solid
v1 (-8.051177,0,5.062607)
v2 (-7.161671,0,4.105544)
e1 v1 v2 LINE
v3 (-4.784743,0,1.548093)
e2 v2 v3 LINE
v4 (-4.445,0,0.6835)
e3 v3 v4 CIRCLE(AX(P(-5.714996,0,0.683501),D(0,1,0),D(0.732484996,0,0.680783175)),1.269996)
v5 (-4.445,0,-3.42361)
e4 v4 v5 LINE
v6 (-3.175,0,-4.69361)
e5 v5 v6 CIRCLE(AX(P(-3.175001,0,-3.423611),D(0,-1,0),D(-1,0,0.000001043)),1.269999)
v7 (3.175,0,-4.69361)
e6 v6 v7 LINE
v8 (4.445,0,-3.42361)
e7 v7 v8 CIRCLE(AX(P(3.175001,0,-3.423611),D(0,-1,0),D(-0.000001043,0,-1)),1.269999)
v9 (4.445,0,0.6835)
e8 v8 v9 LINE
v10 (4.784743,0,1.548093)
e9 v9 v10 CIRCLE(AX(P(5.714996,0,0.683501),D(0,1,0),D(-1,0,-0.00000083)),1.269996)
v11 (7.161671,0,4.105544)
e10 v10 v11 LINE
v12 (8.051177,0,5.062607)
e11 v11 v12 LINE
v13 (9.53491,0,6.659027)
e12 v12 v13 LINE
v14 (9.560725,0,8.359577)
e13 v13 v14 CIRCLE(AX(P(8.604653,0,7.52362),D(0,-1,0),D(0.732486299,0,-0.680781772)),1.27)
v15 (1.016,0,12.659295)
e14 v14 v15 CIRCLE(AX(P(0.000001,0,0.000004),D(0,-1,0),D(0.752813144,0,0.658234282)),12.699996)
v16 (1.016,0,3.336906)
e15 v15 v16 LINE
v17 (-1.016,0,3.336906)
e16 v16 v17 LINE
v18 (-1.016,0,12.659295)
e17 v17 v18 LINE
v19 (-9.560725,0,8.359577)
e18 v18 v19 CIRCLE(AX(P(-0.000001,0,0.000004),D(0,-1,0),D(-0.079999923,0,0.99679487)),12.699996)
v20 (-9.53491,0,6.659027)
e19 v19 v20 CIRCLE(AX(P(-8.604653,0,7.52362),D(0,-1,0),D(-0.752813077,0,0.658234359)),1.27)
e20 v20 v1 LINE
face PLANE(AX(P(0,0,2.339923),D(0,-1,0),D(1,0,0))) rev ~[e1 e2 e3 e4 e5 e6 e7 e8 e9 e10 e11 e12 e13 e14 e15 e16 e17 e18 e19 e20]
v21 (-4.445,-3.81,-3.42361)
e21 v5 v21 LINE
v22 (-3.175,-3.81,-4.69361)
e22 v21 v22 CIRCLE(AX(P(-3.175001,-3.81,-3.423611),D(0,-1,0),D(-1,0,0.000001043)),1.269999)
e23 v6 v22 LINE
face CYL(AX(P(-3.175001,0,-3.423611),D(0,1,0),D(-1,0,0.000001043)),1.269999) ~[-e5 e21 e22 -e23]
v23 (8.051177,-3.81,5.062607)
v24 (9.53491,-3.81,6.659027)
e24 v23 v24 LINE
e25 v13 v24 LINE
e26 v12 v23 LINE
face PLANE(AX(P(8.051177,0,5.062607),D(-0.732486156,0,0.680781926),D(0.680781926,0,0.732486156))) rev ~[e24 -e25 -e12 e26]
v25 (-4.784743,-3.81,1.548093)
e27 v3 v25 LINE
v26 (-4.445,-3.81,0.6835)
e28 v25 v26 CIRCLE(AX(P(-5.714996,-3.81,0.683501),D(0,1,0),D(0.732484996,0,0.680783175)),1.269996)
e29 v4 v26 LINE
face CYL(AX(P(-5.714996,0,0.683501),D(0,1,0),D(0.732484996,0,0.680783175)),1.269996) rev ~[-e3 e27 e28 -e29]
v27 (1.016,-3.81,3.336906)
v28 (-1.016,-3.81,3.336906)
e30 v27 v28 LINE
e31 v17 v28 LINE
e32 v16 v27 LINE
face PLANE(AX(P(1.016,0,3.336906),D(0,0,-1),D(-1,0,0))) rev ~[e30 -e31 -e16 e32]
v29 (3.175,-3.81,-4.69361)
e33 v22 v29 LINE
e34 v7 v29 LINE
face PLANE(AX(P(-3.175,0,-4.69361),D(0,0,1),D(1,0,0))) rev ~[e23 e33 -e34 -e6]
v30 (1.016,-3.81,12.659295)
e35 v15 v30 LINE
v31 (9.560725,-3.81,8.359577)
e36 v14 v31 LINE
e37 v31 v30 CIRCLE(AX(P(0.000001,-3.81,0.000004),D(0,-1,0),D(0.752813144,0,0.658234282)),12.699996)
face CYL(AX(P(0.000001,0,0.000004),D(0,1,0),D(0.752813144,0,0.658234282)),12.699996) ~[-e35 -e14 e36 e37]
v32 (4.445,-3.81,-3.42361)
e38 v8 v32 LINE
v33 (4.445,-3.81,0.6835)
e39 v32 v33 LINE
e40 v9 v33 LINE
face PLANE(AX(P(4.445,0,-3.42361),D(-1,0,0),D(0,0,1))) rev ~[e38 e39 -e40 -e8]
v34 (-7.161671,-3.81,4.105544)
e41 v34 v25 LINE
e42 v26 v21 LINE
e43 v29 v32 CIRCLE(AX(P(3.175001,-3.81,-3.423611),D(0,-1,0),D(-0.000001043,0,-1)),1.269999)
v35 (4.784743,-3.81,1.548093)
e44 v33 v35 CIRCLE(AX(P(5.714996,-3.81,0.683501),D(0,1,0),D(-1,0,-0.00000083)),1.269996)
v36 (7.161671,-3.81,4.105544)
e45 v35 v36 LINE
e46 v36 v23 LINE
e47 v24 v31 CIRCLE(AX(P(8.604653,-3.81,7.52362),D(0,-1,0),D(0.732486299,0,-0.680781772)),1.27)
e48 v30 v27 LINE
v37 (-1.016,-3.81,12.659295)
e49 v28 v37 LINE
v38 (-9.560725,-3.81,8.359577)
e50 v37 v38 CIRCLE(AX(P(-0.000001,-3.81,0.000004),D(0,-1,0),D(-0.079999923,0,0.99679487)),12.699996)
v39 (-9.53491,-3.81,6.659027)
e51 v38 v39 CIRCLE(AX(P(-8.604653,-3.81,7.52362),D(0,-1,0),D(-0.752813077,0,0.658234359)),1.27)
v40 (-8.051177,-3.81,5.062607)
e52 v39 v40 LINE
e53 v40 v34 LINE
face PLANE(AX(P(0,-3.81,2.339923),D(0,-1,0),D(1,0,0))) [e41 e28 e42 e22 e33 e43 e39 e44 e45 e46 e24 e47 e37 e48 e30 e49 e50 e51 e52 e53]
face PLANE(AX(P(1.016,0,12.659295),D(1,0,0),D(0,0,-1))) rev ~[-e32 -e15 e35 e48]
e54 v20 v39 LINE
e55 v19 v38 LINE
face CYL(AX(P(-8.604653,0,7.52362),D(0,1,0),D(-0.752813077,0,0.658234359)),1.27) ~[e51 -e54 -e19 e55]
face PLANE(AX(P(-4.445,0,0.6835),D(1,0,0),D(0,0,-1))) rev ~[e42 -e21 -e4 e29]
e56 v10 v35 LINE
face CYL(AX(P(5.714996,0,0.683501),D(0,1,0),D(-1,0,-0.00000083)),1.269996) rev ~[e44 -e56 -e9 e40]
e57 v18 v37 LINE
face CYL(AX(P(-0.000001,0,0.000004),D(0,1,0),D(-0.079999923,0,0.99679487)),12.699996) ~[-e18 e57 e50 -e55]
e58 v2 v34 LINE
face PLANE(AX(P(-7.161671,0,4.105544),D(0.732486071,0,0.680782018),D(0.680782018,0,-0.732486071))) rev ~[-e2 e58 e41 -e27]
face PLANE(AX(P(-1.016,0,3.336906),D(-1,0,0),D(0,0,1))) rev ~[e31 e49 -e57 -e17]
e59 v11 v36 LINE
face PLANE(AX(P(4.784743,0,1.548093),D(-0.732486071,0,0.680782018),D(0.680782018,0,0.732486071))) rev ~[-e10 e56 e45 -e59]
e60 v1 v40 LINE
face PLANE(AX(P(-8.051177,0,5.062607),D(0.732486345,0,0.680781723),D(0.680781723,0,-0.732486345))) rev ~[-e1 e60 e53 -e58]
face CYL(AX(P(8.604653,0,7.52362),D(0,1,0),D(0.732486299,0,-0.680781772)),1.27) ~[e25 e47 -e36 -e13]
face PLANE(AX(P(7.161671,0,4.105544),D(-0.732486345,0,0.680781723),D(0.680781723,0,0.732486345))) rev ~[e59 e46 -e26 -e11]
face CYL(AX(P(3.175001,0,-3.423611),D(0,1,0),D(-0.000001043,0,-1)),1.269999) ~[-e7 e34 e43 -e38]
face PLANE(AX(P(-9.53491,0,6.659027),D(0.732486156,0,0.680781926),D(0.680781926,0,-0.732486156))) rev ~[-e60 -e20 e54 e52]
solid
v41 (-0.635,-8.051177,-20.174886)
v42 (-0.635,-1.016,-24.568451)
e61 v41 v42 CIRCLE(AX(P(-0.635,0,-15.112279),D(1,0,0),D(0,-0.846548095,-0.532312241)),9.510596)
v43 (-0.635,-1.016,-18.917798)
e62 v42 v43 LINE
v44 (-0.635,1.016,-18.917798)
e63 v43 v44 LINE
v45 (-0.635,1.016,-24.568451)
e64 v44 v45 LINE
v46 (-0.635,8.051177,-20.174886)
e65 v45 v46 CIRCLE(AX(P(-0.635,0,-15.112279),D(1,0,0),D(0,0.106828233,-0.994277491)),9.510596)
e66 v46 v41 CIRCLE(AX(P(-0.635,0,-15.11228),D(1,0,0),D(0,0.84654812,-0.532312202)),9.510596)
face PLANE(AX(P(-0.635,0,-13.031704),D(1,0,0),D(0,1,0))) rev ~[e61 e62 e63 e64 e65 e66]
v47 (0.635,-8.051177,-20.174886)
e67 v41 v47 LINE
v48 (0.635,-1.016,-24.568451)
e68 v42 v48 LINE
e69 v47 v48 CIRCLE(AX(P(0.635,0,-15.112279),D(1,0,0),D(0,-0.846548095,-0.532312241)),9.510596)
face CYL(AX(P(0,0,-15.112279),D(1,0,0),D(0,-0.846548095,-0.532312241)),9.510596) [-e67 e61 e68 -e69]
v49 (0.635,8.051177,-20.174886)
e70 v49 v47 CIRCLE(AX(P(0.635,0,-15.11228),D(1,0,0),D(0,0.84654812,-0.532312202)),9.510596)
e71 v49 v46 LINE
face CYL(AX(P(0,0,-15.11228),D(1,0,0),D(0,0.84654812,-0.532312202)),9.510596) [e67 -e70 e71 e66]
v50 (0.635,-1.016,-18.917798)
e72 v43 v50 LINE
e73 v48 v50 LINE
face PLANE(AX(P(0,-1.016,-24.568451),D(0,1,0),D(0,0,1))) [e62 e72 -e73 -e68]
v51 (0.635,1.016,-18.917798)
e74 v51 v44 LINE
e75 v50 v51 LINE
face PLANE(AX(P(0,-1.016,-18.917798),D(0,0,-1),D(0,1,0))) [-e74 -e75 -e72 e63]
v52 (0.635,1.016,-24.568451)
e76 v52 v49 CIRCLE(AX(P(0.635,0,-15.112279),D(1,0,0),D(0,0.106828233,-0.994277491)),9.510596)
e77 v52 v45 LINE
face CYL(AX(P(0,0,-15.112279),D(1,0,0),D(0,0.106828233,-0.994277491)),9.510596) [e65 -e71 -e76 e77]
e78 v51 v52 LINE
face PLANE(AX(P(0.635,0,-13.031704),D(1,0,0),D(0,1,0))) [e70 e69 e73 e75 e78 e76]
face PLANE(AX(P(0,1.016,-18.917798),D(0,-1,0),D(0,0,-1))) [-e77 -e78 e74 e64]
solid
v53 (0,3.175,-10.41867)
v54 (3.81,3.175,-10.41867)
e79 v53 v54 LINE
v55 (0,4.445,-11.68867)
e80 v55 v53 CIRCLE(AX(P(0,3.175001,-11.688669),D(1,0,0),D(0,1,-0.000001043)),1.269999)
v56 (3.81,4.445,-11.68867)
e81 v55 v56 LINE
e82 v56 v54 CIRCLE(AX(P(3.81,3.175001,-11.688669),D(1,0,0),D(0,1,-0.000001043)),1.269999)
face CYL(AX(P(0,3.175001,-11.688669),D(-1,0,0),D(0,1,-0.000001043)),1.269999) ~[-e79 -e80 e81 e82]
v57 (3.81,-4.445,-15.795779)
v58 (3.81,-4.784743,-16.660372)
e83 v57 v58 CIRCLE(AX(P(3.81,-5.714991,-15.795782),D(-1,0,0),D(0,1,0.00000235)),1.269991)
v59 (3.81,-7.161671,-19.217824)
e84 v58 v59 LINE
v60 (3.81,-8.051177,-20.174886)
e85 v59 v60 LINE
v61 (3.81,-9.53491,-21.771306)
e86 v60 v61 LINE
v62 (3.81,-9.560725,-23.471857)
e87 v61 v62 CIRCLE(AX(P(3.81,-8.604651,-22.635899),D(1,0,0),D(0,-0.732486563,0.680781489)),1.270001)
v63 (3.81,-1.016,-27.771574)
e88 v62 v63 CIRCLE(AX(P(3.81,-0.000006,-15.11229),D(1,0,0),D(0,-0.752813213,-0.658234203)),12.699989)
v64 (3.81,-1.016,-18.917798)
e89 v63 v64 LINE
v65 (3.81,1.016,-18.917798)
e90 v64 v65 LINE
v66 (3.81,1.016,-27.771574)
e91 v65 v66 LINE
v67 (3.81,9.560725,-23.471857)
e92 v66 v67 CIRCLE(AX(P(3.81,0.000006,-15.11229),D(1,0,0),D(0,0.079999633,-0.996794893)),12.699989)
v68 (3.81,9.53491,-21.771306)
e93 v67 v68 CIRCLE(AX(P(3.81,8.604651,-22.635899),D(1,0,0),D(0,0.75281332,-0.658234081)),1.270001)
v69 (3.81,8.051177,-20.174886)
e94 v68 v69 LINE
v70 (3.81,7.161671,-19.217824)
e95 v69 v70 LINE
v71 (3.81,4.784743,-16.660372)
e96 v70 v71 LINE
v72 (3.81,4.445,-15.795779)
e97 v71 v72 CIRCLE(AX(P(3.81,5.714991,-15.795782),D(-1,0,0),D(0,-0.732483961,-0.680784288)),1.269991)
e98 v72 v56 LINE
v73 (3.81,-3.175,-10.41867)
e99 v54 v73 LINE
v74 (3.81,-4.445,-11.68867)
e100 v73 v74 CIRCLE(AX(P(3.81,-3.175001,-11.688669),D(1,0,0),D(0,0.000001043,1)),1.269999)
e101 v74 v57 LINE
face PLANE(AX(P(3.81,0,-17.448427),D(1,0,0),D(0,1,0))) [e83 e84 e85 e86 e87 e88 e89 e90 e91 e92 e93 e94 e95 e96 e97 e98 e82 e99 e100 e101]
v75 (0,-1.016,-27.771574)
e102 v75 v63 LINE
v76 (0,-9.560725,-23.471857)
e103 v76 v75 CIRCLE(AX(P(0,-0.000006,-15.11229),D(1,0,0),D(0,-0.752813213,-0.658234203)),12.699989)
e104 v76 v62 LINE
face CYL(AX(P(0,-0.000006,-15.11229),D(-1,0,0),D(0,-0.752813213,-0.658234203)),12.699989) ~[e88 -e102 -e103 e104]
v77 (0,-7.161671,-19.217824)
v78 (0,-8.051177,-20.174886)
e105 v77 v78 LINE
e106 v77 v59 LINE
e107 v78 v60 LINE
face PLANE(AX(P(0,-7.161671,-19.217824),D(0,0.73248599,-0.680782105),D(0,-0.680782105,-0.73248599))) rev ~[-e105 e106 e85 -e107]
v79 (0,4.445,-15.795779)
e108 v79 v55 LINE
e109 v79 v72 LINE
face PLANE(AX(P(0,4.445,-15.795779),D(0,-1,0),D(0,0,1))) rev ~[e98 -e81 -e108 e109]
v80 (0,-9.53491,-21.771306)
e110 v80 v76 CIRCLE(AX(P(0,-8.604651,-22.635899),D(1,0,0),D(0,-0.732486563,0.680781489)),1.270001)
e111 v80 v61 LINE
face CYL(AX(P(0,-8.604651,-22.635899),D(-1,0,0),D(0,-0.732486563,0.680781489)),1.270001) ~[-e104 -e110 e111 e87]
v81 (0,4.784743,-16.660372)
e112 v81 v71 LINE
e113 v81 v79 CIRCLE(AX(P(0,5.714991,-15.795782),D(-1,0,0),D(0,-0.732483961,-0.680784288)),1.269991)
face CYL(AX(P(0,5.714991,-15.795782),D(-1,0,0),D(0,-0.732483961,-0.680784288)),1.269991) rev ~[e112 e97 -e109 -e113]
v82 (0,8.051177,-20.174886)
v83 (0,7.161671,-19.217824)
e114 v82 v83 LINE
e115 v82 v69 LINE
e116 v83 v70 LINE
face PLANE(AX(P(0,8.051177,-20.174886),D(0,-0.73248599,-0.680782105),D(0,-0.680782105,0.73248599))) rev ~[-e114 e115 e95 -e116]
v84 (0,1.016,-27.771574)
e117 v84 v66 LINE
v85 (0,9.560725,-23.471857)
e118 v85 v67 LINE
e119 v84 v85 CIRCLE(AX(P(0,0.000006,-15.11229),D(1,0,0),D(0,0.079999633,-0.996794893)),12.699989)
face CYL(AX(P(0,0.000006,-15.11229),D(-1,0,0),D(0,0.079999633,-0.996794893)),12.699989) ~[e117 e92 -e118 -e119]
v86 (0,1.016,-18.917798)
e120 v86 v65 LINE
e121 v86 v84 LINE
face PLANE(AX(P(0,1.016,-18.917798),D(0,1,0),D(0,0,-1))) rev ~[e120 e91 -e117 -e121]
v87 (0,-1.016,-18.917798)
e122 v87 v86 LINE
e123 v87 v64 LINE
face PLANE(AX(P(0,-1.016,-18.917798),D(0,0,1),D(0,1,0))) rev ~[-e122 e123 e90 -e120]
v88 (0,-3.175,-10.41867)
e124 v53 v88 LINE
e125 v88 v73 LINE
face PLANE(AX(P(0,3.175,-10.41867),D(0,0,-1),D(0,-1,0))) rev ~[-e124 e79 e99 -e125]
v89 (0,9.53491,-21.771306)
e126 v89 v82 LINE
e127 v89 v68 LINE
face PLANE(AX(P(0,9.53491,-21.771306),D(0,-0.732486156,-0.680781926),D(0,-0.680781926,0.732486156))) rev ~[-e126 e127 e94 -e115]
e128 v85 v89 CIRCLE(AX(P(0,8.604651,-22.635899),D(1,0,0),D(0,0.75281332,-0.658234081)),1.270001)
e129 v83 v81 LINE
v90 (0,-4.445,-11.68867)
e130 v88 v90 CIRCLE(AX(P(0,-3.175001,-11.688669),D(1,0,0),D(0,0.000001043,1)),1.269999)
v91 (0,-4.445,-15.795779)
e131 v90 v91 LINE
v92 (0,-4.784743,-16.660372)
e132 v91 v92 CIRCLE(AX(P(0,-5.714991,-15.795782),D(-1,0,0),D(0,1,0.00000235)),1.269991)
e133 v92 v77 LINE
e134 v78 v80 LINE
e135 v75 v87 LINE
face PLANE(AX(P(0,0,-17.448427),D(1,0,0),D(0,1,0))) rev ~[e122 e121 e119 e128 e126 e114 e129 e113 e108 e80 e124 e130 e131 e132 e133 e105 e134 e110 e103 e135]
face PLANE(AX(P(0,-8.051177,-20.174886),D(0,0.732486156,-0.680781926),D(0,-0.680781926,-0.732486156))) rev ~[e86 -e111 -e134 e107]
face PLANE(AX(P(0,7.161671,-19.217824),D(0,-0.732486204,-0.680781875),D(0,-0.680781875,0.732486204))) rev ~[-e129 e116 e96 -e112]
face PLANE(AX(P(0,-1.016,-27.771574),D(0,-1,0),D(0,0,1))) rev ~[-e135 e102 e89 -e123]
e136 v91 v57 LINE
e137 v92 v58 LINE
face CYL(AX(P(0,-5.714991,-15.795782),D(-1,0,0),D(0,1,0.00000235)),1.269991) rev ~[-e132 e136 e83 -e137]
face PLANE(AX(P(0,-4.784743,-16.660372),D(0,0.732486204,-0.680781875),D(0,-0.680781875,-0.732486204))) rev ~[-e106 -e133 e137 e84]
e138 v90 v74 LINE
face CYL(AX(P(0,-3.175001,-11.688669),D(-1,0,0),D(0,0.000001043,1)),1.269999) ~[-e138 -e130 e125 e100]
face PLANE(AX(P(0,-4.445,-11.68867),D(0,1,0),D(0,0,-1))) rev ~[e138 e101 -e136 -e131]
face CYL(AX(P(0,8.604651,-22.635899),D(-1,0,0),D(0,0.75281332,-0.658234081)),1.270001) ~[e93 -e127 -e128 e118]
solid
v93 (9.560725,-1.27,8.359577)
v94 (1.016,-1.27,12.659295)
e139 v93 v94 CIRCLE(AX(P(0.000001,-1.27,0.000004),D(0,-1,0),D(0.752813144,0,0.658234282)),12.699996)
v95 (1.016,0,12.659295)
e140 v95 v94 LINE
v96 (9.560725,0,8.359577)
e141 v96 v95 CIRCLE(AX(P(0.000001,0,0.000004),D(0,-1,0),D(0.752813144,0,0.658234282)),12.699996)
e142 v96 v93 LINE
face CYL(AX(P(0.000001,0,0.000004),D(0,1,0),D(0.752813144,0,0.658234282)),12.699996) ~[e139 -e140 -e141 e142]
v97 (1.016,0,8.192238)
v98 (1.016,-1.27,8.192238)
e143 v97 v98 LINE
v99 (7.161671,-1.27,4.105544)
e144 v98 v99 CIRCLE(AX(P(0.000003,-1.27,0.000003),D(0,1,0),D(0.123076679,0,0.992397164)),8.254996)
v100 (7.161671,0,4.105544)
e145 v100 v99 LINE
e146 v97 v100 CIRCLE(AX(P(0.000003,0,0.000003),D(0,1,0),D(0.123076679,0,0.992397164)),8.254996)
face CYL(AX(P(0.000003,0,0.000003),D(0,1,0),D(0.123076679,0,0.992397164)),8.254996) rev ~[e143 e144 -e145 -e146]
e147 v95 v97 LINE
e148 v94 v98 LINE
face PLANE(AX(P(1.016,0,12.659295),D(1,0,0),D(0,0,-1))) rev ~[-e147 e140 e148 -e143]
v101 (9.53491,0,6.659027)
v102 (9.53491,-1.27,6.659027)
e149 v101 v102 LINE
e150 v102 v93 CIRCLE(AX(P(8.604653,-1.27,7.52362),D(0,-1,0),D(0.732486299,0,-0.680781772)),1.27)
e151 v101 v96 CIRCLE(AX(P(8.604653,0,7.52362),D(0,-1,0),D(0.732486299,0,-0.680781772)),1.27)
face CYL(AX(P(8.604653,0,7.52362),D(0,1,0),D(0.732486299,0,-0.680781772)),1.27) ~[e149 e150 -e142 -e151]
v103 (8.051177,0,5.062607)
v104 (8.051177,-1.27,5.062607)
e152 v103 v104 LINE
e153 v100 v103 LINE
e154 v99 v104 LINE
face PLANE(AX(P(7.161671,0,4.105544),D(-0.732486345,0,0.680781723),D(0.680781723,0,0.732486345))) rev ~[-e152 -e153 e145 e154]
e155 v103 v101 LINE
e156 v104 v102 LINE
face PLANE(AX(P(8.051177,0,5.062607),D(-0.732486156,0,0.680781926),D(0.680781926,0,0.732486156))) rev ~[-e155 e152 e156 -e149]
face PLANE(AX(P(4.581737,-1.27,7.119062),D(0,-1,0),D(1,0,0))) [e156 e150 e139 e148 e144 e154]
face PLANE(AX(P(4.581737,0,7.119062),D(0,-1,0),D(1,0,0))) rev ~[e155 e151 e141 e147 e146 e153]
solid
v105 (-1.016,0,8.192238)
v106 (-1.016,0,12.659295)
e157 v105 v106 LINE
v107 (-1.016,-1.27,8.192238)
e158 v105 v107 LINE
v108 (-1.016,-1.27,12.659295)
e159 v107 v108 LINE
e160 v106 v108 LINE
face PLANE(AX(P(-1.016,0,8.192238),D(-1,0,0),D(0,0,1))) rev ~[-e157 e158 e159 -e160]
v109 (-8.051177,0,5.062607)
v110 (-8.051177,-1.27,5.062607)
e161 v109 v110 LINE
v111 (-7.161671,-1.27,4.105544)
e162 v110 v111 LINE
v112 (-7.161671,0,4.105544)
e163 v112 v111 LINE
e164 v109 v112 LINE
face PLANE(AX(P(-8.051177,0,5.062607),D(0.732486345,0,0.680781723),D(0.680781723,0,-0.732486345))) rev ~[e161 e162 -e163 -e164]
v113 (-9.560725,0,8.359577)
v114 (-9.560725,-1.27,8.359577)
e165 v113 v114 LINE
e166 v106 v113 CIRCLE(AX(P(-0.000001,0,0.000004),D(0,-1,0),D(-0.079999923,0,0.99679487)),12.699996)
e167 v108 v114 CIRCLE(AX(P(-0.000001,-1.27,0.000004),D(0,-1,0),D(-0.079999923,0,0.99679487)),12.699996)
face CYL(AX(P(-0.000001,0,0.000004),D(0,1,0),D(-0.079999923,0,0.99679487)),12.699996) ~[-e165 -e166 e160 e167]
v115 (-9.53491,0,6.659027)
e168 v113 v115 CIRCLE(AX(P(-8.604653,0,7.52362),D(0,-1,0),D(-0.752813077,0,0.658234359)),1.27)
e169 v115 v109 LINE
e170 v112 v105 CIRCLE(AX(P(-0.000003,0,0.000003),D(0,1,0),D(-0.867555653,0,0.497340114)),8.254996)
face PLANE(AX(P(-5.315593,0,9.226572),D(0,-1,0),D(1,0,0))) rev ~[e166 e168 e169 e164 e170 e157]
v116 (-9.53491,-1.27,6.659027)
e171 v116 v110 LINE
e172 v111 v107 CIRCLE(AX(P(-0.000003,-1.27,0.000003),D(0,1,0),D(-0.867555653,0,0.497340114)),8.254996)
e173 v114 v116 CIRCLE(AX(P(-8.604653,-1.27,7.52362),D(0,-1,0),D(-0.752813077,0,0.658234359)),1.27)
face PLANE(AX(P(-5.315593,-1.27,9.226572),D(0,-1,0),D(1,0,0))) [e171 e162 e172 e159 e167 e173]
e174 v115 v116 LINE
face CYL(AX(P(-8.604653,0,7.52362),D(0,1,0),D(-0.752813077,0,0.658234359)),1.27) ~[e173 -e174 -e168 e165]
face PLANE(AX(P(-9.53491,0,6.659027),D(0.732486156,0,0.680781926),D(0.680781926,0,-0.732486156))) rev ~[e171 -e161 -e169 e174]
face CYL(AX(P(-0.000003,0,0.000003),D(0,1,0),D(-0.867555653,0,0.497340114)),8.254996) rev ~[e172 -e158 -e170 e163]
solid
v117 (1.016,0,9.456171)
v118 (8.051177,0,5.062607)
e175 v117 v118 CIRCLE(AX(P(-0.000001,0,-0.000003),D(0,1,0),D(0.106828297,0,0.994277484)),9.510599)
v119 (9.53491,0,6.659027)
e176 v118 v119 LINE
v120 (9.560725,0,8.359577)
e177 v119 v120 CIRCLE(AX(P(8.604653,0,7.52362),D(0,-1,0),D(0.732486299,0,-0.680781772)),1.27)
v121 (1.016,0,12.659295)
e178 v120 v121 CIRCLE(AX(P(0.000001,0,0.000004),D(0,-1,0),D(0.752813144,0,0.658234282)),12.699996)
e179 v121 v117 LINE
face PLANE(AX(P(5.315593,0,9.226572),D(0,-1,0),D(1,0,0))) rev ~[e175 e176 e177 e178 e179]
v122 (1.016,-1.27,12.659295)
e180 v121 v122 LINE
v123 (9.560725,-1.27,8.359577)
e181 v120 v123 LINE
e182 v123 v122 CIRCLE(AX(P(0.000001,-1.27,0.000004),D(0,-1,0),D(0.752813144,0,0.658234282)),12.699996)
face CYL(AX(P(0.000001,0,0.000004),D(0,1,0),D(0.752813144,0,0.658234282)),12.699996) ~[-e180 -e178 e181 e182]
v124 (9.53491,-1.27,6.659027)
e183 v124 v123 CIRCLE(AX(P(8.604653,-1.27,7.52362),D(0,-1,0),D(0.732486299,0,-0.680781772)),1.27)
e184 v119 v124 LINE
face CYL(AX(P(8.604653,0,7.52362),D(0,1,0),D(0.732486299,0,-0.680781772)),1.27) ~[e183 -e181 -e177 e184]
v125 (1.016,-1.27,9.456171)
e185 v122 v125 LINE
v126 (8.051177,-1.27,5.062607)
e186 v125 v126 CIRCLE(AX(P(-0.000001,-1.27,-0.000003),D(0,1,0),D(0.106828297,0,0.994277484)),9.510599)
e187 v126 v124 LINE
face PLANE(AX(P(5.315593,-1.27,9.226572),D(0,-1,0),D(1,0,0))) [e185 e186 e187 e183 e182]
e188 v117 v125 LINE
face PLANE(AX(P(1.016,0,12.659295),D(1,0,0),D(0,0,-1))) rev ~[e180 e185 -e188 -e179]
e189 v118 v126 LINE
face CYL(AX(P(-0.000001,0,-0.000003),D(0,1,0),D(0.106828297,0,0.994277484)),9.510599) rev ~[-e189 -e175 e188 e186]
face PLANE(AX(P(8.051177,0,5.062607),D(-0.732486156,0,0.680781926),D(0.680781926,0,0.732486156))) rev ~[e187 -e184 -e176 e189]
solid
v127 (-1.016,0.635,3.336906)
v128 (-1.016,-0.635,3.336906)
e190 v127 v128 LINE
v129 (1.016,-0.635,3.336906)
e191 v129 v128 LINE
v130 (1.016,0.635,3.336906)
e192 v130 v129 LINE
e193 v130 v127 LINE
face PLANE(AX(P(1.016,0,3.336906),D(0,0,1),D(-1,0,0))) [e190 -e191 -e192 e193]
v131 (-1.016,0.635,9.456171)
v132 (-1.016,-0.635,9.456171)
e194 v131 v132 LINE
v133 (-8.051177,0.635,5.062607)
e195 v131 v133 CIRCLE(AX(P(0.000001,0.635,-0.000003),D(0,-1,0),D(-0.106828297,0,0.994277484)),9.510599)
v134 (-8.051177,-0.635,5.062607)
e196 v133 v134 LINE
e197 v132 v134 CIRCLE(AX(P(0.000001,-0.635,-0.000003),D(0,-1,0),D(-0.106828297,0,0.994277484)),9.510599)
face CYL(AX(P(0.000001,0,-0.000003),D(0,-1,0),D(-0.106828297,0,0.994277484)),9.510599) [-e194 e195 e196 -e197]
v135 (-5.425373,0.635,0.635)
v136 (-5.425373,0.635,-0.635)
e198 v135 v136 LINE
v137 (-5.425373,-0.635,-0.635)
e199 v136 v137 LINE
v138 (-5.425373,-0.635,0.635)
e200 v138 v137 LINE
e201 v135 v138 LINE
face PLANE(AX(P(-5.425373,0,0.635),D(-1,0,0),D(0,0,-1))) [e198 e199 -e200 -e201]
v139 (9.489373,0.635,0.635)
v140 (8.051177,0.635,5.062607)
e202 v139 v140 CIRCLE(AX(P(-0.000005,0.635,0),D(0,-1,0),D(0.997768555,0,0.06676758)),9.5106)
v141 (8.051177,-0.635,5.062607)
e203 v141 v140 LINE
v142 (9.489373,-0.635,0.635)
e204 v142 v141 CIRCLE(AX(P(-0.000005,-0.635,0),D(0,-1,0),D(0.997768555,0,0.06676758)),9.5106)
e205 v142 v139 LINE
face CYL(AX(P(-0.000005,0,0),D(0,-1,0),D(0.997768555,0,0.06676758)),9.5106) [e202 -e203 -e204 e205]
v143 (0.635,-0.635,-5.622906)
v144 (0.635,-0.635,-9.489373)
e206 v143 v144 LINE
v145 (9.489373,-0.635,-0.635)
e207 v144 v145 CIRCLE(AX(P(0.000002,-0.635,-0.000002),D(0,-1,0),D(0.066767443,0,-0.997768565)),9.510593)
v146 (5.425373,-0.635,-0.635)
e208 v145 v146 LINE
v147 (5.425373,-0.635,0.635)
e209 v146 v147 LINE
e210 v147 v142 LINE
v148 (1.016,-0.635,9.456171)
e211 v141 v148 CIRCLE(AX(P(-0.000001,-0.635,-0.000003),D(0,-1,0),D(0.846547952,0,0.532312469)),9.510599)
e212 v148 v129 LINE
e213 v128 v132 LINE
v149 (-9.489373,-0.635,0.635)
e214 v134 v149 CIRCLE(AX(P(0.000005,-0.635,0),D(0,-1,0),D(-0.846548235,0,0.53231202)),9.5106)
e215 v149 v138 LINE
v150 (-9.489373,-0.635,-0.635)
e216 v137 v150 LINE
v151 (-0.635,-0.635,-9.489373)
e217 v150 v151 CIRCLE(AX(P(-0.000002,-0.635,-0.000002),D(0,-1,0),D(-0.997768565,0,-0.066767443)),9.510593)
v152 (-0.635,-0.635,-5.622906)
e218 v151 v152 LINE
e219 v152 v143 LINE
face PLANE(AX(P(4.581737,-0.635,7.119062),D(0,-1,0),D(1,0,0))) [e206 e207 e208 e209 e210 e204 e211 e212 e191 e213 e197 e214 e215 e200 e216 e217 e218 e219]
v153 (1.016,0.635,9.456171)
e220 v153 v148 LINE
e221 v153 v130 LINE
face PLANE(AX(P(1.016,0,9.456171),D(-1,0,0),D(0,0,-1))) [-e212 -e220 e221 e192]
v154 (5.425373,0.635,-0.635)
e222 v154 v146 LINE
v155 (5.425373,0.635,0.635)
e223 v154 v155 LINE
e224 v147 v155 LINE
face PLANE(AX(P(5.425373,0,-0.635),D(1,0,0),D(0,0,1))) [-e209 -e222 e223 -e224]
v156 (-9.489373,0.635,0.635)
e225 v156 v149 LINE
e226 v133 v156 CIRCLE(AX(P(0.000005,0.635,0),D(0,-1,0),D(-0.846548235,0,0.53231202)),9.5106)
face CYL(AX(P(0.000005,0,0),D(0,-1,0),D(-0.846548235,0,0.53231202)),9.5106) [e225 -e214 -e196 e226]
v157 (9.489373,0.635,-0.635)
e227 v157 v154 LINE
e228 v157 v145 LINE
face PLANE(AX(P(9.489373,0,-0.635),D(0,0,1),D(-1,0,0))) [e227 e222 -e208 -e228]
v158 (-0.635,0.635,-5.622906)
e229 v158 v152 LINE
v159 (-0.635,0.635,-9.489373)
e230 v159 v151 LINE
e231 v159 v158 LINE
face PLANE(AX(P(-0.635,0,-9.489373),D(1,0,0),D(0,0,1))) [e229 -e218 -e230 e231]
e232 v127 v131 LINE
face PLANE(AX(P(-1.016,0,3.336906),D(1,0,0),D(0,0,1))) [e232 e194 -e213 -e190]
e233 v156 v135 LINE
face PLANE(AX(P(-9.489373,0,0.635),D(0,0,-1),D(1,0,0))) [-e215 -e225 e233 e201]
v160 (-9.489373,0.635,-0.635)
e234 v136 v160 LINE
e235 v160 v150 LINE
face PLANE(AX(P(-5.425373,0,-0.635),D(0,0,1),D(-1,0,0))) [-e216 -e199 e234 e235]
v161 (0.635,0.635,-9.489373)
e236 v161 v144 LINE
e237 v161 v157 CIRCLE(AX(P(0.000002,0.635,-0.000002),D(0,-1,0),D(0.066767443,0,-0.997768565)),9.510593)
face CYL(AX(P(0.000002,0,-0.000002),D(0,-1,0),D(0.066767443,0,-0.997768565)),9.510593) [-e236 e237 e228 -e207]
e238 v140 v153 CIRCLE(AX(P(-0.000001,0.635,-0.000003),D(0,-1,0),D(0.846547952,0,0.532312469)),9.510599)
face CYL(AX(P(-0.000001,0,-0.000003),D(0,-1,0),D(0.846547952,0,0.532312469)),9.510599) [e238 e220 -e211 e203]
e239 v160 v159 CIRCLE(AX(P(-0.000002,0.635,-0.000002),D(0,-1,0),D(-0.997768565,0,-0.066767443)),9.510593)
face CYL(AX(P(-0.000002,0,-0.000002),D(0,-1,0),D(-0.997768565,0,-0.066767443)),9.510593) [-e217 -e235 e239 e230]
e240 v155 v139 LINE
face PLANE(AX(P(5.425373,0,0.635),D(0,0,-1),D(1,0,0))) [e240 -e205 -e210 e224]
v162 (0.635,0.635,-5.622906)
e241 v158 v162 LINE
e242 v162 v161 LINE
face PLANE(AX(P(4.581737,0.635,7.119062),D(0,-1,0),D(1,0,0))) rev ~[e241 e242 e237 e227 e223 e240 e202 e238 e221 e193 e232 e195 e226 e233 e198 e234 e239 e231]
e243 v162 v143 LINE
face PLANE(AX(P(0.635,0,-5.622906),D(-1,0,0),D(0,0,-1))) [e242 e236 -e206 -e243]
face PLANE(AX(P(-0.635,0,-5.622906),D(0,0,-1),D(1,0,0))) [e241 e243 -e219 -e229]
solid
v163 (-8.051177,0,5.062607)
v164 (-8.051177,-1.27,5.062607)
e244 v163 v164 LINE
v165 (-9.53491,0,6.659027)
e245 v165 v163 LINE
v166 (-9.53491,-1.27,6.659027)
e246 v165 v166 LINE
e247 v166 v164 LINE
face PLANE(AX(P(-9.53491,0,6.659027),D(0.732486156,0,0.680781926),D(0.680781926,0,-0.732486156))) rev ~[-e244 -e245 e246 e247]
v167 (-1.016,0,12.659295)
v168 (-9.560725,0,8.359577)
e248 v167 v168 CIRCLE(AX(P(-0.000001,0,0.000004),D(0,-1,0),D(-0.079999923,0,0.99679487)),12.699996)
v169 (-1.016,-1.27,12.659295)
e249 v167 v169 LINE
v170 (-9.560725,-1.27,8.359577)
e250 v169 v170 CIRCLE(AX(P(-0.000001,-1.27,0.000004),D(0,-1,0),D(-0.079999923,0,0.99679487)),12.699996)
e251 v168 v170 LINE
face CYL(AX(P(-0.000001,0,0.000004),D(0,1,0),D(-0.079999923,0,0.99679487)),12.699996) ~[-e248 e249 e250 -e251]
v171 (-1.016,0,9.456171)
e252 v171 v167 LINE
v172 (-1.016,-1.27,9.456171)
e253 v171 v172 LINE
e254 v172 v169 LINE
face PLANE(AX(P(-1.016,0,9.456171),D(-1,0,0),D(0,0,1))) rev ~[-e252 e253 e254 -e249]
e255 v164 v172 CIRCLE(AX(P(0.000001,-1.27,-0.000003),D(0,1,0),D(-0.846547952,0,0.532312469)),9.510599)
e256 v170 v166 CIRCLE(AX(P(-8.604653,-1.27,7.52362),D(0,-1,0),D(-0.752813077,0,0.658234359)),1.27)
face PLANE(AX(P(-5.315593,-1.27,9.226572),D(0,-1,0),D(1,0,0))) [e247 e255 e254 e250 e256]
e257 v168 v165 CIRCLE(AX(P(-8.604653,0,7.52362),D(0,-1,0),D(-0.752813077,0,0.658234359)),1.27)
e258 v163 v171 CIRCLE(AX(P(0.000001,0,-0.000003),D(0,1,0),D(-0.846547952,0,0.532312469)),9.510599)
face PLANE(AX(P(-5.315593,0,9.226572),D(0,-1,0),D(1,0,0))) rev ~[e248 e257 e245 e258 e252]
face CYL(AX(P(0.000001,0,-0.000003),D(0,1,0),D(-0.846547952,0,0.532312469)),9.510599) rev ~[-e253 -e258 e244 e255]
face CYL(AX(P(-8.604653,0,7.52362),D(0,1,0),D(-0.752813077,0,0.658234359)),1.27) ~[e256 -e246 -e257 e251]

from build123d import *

# Parameters (mm, degrees)
F1_DEPTH = 3.81
F2_DEPTH = 3.175
F3_DEPTH = 1.27
F5_DEPTH = 1.27
F6_DEPTH = 0.635
F8_DEPTH = 3.81
F9_DEPTH = 0.635


with BuildPart() as f1:
    # F0 (on Front) → F1 (new body)
    with BuildSketch(Plane.XZ):
        with BuildLine():
            ThreePointArc((-1.016, 8.192238), (-4.570978, 6.87395), (-7.161671, 4.105544))
            Line((-7.161671, 4.105544), (-4.784743, 1.548093))
            ThreePointArc((-4.784743, 1.548093), (-4.532983, 1.147974), (-4.445, 0.6835))
            Line((-4.445, 0.6835), (-4.445, -3.42361))
            ThreePointArc((-4.445, -3.42361), (-4.073026, -4.321636), (-3.175, -4.69361))
            Line((-3.175, -4.69361), (3.175, -4.69361))
            ThreePointArc((3.175, -4.69361), (4.073026, -4.321636), (4.445, -3.42361))
            Line((4.445, -3.42361), (4.445, 0.6835))
            ThreePointArc((4.445, 0.6835), (4.532983, 1.147974), (4.784743, 1.548093))
            Line((4.784743, 1.548093), (7.161671, 4.105544))
            ThreePointArc((7.161671, 4.105544), (4.570978, 6.87395), (1.016, 8.192238))
            Line((1.016, 8.192238), (1.016, 3.336906))
            Line((1.016, 3.336906), (-1.016, 3.336906))
            Line((-1.016, 3.336906), (-1.016, 8.192238))
        make_face()
        with BuildLine():
            Line((7.161671, 4.105544), (8.051177, 5.062607))
            ThreePointArc((8.051177, 5.062607), (5.037785, 8.066731), (1.016, 9.456171))
            Line((1.016, 9.456171), (1.016, 8.192238))
            ThreePointArc((1.016, 8.192238), (4.570978, 6.87395), (7.161671, 4.105544))
        make_face()
        with BuildLine():
            ThreePointArc((1.016, 9.456171), (5.037785, 8.066731), (8.051177, 5.062607))
            Line((8.051177, 5.062607), (9.53491, 6.659027))
            ThreePointArc((9.53491, 6.659027), (9.874506, 7.504343), (9.560725, 8.359577))
            ThreePointArc((9.560725, 8.359577), (5.708649, 11.344661), (1.016, 12.659295))
            Line((1.016, 12.659295), (1.016, 9.456171))
        make_face()
        with BuildLine():
            ThreePointArc((-1.016, 9.456171), (-5.037785, 8.066731), (-8.051177, 5.062607))
            Line((-8.051177, 5.062607), (-7.161671, 4.105544))
            ThreePointArc((-7.161671, 4.105544), (-4.570978, 6.87395), (-1.016, 8.192238))
            Line((-1.016, 8.192238), (-1.016, 9.456171))
        make_face()
        with BuildLine():
            Line((-9.53491, 6.659027), (-8.051177, 5.062607))
            ThreePointArc((-8.051177, 5.062607), (-5.037785, 8.066731), (-1.016, 9.456171))
            Line((-1.016, 9.456171), (-1.016, 12.659295))
            ThreePointArc((-1.016, 12.659295), (-5.708649, 11.344661), (-9.560725, 8.359577))
            ThreePointArc((-9.560725, 8.359577), (-9.874506, 7.504343), (-9.53491, 6.659027))
        make_face()
    extrude(amount=F1_DEPTH)


with BuildPart() as f2:
    # F0 (on Front) → F2 (new body)
    with BuildSketch(Plane.XZ):
        with BuildLine():
            Line((-9.53491, 6.659027), (-8.051177, 5.062607))
            ThreePointArc((-8.051177, 5.062607), (-5.037785, 8.066731), (-1.016, 9.456171))
            Line((-1.016, 9.456171), (-1.016, 12.659295))
            ThreePointArc((-1.016, 12.659295), (-5.708649, 11.344661), (-9.560725, 8.359577))
            ThreePointArc((-9.560725, 8.359577), (-9.874506, 7.504343), (-9.53491, 6.659027))
        make_face()
        with BuildLine():
            ThreePointArc((-1.016, 9.456171), (-5.037785, 8.066731), (-8.051177, 5.062607))
            Line((-8.051177, 5.062607), (-7.161671, 4.105544))
            ThreePointArc((-7.161671, 4.105544), (-4.570978, 6.87395), (-1.016, 8.192238))
            Line((-1.016, 8.192238), (-1.016, 9.456171))
        make_face()
        with BuildLine():
            ThreePointArc((1.016, 9.456171), (5.037785, 8.066731), (8.051177, 5.062607))
            Line((8.051177, 5.062607), (9.53491, 6.659027))
            ThreePointArc((9.53491, 6.659027), (9.874506, 7.504343), (9.560725, 8.359577))
            ThreePointArc((9.560725, 8.359577), (5.708649, 11.344661), (1.016, 12.659295))
            Line((1.016, 12.659295), (1.016, 9.456171))
        make_face()
        with BuildLine():
            Line((7.161671, 4.105544), (8.051177, 5.062607))
            ThreePointArc((8.051177, 5.062607), (5.037785, 8.066731), (1.016, 9.456171))
            Line((1.016, 9.456171), (1.016, 8.192238))
            ThreePointArc((1.016, 8.192238), (4.570978, 6.87395), (7.161671, 4.105544))
        make_face()
    extrude(amount=F2_DEPTH)


with BuildPart() as f3:
    # F0 (on Front) → F3 (new body)
    with BuildSketch(Plane.XZ):
        with BuildLine():
            ThreePointArc((1.016, 9.456171), (5.037785, 8.066731), (8.051177, 5.062607))
            Line((8.051177, 5.062607), (9.53491, 6.659027))
            ThreePointArc((9.53491, 6.659027), (9.874506, 7.504343), (9.560725, 8.359577))
            ThreePointArc((9.560725, 8.359577), (5.708649, 11.344661), (1.016, 12.659295))
            Line((1.016, 12.659295), (1.016, 9.456171))
        make_face()
        with BuildLine():
            Line((-9.53491, 6.659027), (-8.051177, 5.062607))
            ThreePointArc((-8.051177, 5.062607), (-5.037785, 8.066731), (-1.016, 9.456171))
            Line((-1.016, 9.456171), (-1.016, 12.659295))
            ThreePointArc((-1.016, 12.659295), (-5.708649, 11.344661), (-9.560725, 8.359577))
            ThreePointArc((-9.560725, 8.359577), (-9.874506, 7.504343), (-9.53491, 6.659027))
        make_face()
    extrude(amount=F3_DEPTH)


with BuildPart() as f5:
    # F0 (on Front) → F5 (new body)
    with BuildSketch(Plane.XZ):
        with BuildLine():
            Line((-9.53491, 6.659027), (-8.051177, 5.062607))
            ThreePointArc((-8.051177, 5.062607), (-5.037785, 8.066731), (-1.016, 9.456171))
            Line((-1.016, 9.456171), (-1.016, 12.659295))
            ThreePointArc((-1.016, 12.659295), (-5.708649, 11.344661), (-9.560725, 8.359577))
            ThreePointArc((-9.560725, 8.359577), (-9.874506, 7.504343), (-9.53491, 6.659027))
        make_face()
        with BuildLine():
            ThreePointArc((-1.016, 9.456171), (-5.037785, 8.066731), (-8.051177, 5.062607))
            Line((-8.051177, 5.062607), (-7.161671, 4.105544))
            ThreePointArc((-7.161671, 4.105544), (-4.570978, 6.87395), (-1.016, 8.192238))
            Line((-1.016, 8.192238), (-1.016, 9.456171))
        make_face()
        with BuildLine():
            Line((7.161671, 4.105544), (8.051177, 5.062607))
            ThreePointArc((8.051177, 5.062607), (5.037785, 8.066731), (1.016, 9.456171))
            Line((1.016, 9.456171), (1.016, 8.192238))
            ThreePointArc((1.016, 8.192238), (4.570978, 6.87395), (7.161671, 4.105544))
        make_face()
        with BuildLine():
            ThreePointArc((1.016, 9.456171), (5.037785, 8.066731), (8.051177, 5.062607))
            Line((8.051177, 5.062607), (9.53491, 6.659027))
            ThreePointArc((9.53491, 6.659027), (9.874506, 7.504343), (9.560725, 8.359577))
            ThreePointArc((9.560725, 8.359577), (5.708649, 11.344661), (1.016, 12.659295))
            Line((1.016, 12.659295), (1.016, 9.456171))
        make_face()
    extrude(amount=F5_DEPTH)


with BuildPart() as f6:
    # F0 (on Front) → F6 (new body, symmetric)
    with BuildSketch(Plane.XZ):
        with BuildLine():
            Line((7.161671, 4.105544), (8.051177, 5.062607))
            ThreePointArc((8.051177, 5.062607), (5.037785, 8.066731), (1.016, 9.456171))
            Line((1.016, 9.456171), (1.016, 8.192238))
            ThreePointArc((1.016, 8.192238), (4.570978, 6.87395), (7.161671, 4.105544))
        make_face()
        with BuildLine():
            ThreePointArc((-1.016, 9.456171), (-5.037785, 8.066731), (-8.051177, 5.062607))
            Line((-8.051177, 5.062607), (-7.161671, 4.105544))
            ThreePointArc((-7.161671, 4.105544), (-4.570978, 6.87395), (-1.016, 8.192238))
            Line((-1.016, 8.192238), (-1.016, 9.456171))
        make_face()
        with BuildLine():
            ThreePointArc((-1.016, 8.192238), (-4.570978, 6.87395), (-7.161671, 4.105544))
            Line((-7.161671, 4.105544), (-4.784743, 1.548093))
            ThreePointArc((-4.784743, 1.548093), (-4.532983, 1.147974), (-4.445, 0.6835))
            Line((-4.445, 0.6835), (-4.445, -3.42361))
            ThreePointArc((-4.445, -3.42361), (-4.073026, -4.321636), (-3.175, -4.69361))
            Line((-3.175, -4.69361), (3.175, -4.69361))
            ThreePointArc((3.175, -4.69361), (4.073026, -4.321636), (4.445, -3.42361))
            Line((4.445, -3.42361), (4.445, 0.6835))
            ThreePointArc((4.445, 0.6835), (4.532983, 1.147974), (4.784743, 1.548093))
            Line((4.784743, 1.548093), (7.161671, 4.105544))
            ThreePointArc((7.161671, 4.105544), (4.570978, 6.87395), (1.016, 8.192238))
            Line((1.016, 8.192238), (1.016, 3.336906))
            Line((1.016, 3.336906), (-1.016, 3.336906))
            Line((-1.016, 3.336906), (-1.016, 8.192238))
        make_face()
        with BuildLine():
            ThreePointArc((-8.051177, 5.062607), (-9.045366, 2.93816), (-9.489373, 0.635))
            Line((-9.489373, 0.635), (-5.425373, 0.635))
            Line((-5.425373, 0.635), (-5.425373, -0.635))
            Line((-5.425373, -0.635), (-9.489373, -0.635))
            ThreePointArc((-9.489373, -0.635), (-6.725007, -6.725007), (-0.635, -9.489373))
            Line((-0.635, -9.489373), (-0.635, -8.230541))
            Line((-0.635, -8.230541), (-0.635, -5.622906))
            Line((-0.635, -5.622906), (0.635, -5.622906))
            Line((0.635, -5.622906), (0.635, -8.230541))
            Line((0.635, -8.230541), (0.635, -9.489373))
            ThreePointArc((0.635, -9.489373), (6.725007, -6.725007), (9.489373, -0.635))
            Line((9.489373, -0.635), (5.425373, -0.635))
            Line((5.425373, -0.635), (5.425373, 0.635))
            Line((5.425373, 0.635), (9.489373, 0.635))
            ThreePointArc((9.489373, 0.635), (9.045366, 2.93816), (8.051177, 5.062607))
            Line((8.051177, 5.062607), (7.161671, 4.105544))
            Line((7.161671, 4.105544), (4.784743, 1.548093))
            ThreePointArc((4.784743, 1.548093), (4.532983, 1.147974), (4.445, 0.6835))
            Line((4.445, 0.6835), (4.445, -3.42361))
            ThreePointArc((4.445, -3.42361), (4.073026, -4.321636), (3.175, -4.69361))
            Line((3.175, -4.69361), (-3.175, -4.69361))
            ThreePointArc((-3.175, -4.69361), (-4.073026, -4.321636), (-4.445, -3.42361))
            Line((-4.445, -3.42361), (-4.445, 0.6835))
            ThreePointArc((-4.445, 0.6835), (-4.532983, 1.147974), (-4.784743, 1.548093))
            Line((-4.784743, 1.548093), (-7.161671, 4.105544))
            Line((-7.161671, 4.105544), (-8.051177, 5.062607))
        make_face()
    extrude(amount=F6_DEPTH, both=True)


with BuildPart() as f8:
    # F7 (on Right) → F8 (new body)
    with BuildSketch(Plane.YZ):
        with BuildLine():
            Line((1.016, -18.917798), (1.016, -23.304518))
            ThreePointArc((1.016, -23.304518), (4.570978, -21.986229), (7.161671, -19.217824))
            Line((7.161671, -19.217824), (4.784743, -16.660372))
            ThreePointArc((4.784743, -16.660372), (4.532983, -16.260254), (4.445, -15.795779))
            Line((4.445, -15.795779), (4.445, -11.68867))
            ThreePointArc((4.445, -11.68867), (4.073026, -10.790644), (3.175, -10.41867))
            Line((3.175, -10.41867), (-3.175, -10.41867))
            ThreePointArc((-3.175, -10.41867), (-4.073026, -10.790644), (-4.445, -11.68867))
            Line((-4.445, -11.68867), (-4.445, -15.795779))
            ThreePointArc((-4.445, -15.795779), (-4.532983, -16.260254), (-4.784743, -16.660372))
            Line((-4.784743, -16.660372), (-7.161671, -19.217824))
            ThreePointArc((-7.161671, -19.217824), (-4.570978, -21.986229), (-1.016, -23.304518))
            Line((-1.016, -23.304518), (-1.016, -18.917798))
            Line((-1.016, -18.917798), (1.016, -18.917798))
        make_face()
        with BuildLine():
            Line((1.016, -23.304518), (1.016, -24.568451))
            ThreePointArc((1.016, -24.568451), (5.037785, -23.179011), (8.051177, -20.174886))
            Line((8.051177, -20.174886), (7.161671, -19.217824))
            ThreePointArc((7.161671, -19.217824), (4.570978, -21.986229), (1.016, -23.304518))
        make_face()
        with BuildLine():
            ThreePointArc((8.051177, -20.174886), (5.037785, -23.179011), (1.016, -24.568451))
            Line((1.016, -24.568451), (1.016, -27.771574))
            ThreePointArc((1.016, -27.771574), (5.708649, -26.456941), (9.560725, -23.471857))
            ThreePointArc((9.560725, -23.471857), (9.874506, -22.616622), (9.53491, -21.771306))
            Line((9.53491, -21.771306), (8.051177, -20.174886))
        make_face()
        with BuildLine():
            Line((-7.161671, -19.217824), (-8.051177, -20.174886))
            ThreePointArc((-8.051177, -20.174886), (-5.037785, -23.179011), (-1.016, -24.568451))
            Line((-1.016, -24.568451), (-1.016, -23.304518))
            ThreePointArc((-1.016, -23.304518), (-4.570978, -21.986229), (-7.161671, -19.217824))
        make_face()
        with BuildLine():
            ThreePointArc((-1.016, -24.568451), (-5.037785, -23.179011), (-8.051177, -20.174886))
            Line((-8.051177, -20.174886), (-9.53491, -21.771306))
            ThreePointArc((-9.53491, -21.771306), (-9.874506, -22.616622), (-9.560725, -23.471857))
            ThreePointArc((-9.560725, -23.471857), (-5.708649, -26.456941), (-1.016, -27.771574))
            Line((-1.016, -27.771574), (-1.016, -24.568451))
        make_face()
    extrude(amount=F8_DEPTH)


with BuildPart() as f9:
    # F7 (on Right) → F9 (new body, symmetric)
    with BuildSketch(Plane.YZ):
        with BuildLine():
            Line((7.161671, -19.217824), (8.051177, -20.174886))
            ThreePointArc((8.051177, -20.174886), (0, -5.601684), (-8.051177, -20.174886))
            Line((-8.051177, -20.174886), (-7.161671, -19.217824))
            Line((-7.161671, -19.217824), (-4.784743, -16.660372))
            ThreePointArc((-4.784743, -16.660372), (-4.532983, -16.260254), (-4.445, -15.795779))
            Line((-4.445, -15.795779), (-4.445, -11.68867))
            ThreePointArc((-4.445, -11.68867), (-4.073026, -10.790644), (-3.175, -10.41867))
            Line((-3.175, -10.41867), (3.175, -10.41867))
            ThreePointArc((3.175, -10.41867), (4.073026, -10.790644), (4.445, -11.68867))
            Line((4.445, -11.68867), (4.445, -15.795779))
            ThreePointArc((4.445, -15.795779), (4.532983, -16.260254), (4.784743, -16.660372))
            Line((4.784743, -16.660372), (7.161671, -19.217824))
        make_face()
        with BuildLine():
            Line((-7.161671, -19.217824), (-8.051177, -20.174886))
            ThreePointArc((-8.051177, -20.174886), (-5.037785, -23.179011), (-1.016, -24.568451))
            Line((-1.016, -24.568451), (-1.016, -23.304518))
            ThreePointArc((-1.016, -23.304518), (-4.570978, -21.986229), (-7.161671, -19.217824))
        make_face()
        with BuildLine():
            Line((1.016, -18.917798), (1.016, -23.304518))
            ThreePointArc((1.016, -23.304518), (4.570978, -21.986229), (7.161671, -19.217824))
            Line((7.161671, -19.217824), (4.784743, -16.660372))
            ThreePointArc((4.784743, -16.660372), (4.532983, -16.260254), (4.445, -15.795779))
            Line((4.445, -15.795779), (4.445, -11.68867))
            ThreePointArc((4.445, -11.68867), (4.073026, -10.790644), (3.175, -10.41867))
            Line((3.175, -10.41867), (-3.175, -10.41867))
            ThreePointArc((-3.175, -10.41867), (-4.073026, -10.790644), (-4.445, -11.68867))
            Line((-4.445, -11.68867), (-4.445, -15.795779))
            ThreePointArc((-4.445, -15.795779), (-4.532983, -16.260254), (-4.784743, -16.660372))
            Line((-4.784743, -16.660372), (-7.161671, -19.217824))
            ThreePointArc((-7.161671, -19.217824), (-4.570978, -21.986229), (-1.016, -23.304518))
            Line((-1.016, -23.304518), (-1.016, -18.917798))
            Line((-1.016, -18.917798), (1.016, -18.917798))
        make_face()
        with BuildLine():
            Line((1.016, -23.304518), (1.016, -24.568451))
            ThreePointArc((1.016, -24.568451), (5.037785, -23.179011), (8.051177, -20.174886))
            Line((8.051177, -20.174886), (7.161671, -19.217824))
            ThreePointArc((7.161671, -19.217824), (4.570978, -21.986229), (1.016, -23.304518))
        make_face()
    extrude(amount=F9_DEPTH, both=True)


solid = Compound([f1.part, f3.part, f5.part, f6.part, f8.part, f9.part])
